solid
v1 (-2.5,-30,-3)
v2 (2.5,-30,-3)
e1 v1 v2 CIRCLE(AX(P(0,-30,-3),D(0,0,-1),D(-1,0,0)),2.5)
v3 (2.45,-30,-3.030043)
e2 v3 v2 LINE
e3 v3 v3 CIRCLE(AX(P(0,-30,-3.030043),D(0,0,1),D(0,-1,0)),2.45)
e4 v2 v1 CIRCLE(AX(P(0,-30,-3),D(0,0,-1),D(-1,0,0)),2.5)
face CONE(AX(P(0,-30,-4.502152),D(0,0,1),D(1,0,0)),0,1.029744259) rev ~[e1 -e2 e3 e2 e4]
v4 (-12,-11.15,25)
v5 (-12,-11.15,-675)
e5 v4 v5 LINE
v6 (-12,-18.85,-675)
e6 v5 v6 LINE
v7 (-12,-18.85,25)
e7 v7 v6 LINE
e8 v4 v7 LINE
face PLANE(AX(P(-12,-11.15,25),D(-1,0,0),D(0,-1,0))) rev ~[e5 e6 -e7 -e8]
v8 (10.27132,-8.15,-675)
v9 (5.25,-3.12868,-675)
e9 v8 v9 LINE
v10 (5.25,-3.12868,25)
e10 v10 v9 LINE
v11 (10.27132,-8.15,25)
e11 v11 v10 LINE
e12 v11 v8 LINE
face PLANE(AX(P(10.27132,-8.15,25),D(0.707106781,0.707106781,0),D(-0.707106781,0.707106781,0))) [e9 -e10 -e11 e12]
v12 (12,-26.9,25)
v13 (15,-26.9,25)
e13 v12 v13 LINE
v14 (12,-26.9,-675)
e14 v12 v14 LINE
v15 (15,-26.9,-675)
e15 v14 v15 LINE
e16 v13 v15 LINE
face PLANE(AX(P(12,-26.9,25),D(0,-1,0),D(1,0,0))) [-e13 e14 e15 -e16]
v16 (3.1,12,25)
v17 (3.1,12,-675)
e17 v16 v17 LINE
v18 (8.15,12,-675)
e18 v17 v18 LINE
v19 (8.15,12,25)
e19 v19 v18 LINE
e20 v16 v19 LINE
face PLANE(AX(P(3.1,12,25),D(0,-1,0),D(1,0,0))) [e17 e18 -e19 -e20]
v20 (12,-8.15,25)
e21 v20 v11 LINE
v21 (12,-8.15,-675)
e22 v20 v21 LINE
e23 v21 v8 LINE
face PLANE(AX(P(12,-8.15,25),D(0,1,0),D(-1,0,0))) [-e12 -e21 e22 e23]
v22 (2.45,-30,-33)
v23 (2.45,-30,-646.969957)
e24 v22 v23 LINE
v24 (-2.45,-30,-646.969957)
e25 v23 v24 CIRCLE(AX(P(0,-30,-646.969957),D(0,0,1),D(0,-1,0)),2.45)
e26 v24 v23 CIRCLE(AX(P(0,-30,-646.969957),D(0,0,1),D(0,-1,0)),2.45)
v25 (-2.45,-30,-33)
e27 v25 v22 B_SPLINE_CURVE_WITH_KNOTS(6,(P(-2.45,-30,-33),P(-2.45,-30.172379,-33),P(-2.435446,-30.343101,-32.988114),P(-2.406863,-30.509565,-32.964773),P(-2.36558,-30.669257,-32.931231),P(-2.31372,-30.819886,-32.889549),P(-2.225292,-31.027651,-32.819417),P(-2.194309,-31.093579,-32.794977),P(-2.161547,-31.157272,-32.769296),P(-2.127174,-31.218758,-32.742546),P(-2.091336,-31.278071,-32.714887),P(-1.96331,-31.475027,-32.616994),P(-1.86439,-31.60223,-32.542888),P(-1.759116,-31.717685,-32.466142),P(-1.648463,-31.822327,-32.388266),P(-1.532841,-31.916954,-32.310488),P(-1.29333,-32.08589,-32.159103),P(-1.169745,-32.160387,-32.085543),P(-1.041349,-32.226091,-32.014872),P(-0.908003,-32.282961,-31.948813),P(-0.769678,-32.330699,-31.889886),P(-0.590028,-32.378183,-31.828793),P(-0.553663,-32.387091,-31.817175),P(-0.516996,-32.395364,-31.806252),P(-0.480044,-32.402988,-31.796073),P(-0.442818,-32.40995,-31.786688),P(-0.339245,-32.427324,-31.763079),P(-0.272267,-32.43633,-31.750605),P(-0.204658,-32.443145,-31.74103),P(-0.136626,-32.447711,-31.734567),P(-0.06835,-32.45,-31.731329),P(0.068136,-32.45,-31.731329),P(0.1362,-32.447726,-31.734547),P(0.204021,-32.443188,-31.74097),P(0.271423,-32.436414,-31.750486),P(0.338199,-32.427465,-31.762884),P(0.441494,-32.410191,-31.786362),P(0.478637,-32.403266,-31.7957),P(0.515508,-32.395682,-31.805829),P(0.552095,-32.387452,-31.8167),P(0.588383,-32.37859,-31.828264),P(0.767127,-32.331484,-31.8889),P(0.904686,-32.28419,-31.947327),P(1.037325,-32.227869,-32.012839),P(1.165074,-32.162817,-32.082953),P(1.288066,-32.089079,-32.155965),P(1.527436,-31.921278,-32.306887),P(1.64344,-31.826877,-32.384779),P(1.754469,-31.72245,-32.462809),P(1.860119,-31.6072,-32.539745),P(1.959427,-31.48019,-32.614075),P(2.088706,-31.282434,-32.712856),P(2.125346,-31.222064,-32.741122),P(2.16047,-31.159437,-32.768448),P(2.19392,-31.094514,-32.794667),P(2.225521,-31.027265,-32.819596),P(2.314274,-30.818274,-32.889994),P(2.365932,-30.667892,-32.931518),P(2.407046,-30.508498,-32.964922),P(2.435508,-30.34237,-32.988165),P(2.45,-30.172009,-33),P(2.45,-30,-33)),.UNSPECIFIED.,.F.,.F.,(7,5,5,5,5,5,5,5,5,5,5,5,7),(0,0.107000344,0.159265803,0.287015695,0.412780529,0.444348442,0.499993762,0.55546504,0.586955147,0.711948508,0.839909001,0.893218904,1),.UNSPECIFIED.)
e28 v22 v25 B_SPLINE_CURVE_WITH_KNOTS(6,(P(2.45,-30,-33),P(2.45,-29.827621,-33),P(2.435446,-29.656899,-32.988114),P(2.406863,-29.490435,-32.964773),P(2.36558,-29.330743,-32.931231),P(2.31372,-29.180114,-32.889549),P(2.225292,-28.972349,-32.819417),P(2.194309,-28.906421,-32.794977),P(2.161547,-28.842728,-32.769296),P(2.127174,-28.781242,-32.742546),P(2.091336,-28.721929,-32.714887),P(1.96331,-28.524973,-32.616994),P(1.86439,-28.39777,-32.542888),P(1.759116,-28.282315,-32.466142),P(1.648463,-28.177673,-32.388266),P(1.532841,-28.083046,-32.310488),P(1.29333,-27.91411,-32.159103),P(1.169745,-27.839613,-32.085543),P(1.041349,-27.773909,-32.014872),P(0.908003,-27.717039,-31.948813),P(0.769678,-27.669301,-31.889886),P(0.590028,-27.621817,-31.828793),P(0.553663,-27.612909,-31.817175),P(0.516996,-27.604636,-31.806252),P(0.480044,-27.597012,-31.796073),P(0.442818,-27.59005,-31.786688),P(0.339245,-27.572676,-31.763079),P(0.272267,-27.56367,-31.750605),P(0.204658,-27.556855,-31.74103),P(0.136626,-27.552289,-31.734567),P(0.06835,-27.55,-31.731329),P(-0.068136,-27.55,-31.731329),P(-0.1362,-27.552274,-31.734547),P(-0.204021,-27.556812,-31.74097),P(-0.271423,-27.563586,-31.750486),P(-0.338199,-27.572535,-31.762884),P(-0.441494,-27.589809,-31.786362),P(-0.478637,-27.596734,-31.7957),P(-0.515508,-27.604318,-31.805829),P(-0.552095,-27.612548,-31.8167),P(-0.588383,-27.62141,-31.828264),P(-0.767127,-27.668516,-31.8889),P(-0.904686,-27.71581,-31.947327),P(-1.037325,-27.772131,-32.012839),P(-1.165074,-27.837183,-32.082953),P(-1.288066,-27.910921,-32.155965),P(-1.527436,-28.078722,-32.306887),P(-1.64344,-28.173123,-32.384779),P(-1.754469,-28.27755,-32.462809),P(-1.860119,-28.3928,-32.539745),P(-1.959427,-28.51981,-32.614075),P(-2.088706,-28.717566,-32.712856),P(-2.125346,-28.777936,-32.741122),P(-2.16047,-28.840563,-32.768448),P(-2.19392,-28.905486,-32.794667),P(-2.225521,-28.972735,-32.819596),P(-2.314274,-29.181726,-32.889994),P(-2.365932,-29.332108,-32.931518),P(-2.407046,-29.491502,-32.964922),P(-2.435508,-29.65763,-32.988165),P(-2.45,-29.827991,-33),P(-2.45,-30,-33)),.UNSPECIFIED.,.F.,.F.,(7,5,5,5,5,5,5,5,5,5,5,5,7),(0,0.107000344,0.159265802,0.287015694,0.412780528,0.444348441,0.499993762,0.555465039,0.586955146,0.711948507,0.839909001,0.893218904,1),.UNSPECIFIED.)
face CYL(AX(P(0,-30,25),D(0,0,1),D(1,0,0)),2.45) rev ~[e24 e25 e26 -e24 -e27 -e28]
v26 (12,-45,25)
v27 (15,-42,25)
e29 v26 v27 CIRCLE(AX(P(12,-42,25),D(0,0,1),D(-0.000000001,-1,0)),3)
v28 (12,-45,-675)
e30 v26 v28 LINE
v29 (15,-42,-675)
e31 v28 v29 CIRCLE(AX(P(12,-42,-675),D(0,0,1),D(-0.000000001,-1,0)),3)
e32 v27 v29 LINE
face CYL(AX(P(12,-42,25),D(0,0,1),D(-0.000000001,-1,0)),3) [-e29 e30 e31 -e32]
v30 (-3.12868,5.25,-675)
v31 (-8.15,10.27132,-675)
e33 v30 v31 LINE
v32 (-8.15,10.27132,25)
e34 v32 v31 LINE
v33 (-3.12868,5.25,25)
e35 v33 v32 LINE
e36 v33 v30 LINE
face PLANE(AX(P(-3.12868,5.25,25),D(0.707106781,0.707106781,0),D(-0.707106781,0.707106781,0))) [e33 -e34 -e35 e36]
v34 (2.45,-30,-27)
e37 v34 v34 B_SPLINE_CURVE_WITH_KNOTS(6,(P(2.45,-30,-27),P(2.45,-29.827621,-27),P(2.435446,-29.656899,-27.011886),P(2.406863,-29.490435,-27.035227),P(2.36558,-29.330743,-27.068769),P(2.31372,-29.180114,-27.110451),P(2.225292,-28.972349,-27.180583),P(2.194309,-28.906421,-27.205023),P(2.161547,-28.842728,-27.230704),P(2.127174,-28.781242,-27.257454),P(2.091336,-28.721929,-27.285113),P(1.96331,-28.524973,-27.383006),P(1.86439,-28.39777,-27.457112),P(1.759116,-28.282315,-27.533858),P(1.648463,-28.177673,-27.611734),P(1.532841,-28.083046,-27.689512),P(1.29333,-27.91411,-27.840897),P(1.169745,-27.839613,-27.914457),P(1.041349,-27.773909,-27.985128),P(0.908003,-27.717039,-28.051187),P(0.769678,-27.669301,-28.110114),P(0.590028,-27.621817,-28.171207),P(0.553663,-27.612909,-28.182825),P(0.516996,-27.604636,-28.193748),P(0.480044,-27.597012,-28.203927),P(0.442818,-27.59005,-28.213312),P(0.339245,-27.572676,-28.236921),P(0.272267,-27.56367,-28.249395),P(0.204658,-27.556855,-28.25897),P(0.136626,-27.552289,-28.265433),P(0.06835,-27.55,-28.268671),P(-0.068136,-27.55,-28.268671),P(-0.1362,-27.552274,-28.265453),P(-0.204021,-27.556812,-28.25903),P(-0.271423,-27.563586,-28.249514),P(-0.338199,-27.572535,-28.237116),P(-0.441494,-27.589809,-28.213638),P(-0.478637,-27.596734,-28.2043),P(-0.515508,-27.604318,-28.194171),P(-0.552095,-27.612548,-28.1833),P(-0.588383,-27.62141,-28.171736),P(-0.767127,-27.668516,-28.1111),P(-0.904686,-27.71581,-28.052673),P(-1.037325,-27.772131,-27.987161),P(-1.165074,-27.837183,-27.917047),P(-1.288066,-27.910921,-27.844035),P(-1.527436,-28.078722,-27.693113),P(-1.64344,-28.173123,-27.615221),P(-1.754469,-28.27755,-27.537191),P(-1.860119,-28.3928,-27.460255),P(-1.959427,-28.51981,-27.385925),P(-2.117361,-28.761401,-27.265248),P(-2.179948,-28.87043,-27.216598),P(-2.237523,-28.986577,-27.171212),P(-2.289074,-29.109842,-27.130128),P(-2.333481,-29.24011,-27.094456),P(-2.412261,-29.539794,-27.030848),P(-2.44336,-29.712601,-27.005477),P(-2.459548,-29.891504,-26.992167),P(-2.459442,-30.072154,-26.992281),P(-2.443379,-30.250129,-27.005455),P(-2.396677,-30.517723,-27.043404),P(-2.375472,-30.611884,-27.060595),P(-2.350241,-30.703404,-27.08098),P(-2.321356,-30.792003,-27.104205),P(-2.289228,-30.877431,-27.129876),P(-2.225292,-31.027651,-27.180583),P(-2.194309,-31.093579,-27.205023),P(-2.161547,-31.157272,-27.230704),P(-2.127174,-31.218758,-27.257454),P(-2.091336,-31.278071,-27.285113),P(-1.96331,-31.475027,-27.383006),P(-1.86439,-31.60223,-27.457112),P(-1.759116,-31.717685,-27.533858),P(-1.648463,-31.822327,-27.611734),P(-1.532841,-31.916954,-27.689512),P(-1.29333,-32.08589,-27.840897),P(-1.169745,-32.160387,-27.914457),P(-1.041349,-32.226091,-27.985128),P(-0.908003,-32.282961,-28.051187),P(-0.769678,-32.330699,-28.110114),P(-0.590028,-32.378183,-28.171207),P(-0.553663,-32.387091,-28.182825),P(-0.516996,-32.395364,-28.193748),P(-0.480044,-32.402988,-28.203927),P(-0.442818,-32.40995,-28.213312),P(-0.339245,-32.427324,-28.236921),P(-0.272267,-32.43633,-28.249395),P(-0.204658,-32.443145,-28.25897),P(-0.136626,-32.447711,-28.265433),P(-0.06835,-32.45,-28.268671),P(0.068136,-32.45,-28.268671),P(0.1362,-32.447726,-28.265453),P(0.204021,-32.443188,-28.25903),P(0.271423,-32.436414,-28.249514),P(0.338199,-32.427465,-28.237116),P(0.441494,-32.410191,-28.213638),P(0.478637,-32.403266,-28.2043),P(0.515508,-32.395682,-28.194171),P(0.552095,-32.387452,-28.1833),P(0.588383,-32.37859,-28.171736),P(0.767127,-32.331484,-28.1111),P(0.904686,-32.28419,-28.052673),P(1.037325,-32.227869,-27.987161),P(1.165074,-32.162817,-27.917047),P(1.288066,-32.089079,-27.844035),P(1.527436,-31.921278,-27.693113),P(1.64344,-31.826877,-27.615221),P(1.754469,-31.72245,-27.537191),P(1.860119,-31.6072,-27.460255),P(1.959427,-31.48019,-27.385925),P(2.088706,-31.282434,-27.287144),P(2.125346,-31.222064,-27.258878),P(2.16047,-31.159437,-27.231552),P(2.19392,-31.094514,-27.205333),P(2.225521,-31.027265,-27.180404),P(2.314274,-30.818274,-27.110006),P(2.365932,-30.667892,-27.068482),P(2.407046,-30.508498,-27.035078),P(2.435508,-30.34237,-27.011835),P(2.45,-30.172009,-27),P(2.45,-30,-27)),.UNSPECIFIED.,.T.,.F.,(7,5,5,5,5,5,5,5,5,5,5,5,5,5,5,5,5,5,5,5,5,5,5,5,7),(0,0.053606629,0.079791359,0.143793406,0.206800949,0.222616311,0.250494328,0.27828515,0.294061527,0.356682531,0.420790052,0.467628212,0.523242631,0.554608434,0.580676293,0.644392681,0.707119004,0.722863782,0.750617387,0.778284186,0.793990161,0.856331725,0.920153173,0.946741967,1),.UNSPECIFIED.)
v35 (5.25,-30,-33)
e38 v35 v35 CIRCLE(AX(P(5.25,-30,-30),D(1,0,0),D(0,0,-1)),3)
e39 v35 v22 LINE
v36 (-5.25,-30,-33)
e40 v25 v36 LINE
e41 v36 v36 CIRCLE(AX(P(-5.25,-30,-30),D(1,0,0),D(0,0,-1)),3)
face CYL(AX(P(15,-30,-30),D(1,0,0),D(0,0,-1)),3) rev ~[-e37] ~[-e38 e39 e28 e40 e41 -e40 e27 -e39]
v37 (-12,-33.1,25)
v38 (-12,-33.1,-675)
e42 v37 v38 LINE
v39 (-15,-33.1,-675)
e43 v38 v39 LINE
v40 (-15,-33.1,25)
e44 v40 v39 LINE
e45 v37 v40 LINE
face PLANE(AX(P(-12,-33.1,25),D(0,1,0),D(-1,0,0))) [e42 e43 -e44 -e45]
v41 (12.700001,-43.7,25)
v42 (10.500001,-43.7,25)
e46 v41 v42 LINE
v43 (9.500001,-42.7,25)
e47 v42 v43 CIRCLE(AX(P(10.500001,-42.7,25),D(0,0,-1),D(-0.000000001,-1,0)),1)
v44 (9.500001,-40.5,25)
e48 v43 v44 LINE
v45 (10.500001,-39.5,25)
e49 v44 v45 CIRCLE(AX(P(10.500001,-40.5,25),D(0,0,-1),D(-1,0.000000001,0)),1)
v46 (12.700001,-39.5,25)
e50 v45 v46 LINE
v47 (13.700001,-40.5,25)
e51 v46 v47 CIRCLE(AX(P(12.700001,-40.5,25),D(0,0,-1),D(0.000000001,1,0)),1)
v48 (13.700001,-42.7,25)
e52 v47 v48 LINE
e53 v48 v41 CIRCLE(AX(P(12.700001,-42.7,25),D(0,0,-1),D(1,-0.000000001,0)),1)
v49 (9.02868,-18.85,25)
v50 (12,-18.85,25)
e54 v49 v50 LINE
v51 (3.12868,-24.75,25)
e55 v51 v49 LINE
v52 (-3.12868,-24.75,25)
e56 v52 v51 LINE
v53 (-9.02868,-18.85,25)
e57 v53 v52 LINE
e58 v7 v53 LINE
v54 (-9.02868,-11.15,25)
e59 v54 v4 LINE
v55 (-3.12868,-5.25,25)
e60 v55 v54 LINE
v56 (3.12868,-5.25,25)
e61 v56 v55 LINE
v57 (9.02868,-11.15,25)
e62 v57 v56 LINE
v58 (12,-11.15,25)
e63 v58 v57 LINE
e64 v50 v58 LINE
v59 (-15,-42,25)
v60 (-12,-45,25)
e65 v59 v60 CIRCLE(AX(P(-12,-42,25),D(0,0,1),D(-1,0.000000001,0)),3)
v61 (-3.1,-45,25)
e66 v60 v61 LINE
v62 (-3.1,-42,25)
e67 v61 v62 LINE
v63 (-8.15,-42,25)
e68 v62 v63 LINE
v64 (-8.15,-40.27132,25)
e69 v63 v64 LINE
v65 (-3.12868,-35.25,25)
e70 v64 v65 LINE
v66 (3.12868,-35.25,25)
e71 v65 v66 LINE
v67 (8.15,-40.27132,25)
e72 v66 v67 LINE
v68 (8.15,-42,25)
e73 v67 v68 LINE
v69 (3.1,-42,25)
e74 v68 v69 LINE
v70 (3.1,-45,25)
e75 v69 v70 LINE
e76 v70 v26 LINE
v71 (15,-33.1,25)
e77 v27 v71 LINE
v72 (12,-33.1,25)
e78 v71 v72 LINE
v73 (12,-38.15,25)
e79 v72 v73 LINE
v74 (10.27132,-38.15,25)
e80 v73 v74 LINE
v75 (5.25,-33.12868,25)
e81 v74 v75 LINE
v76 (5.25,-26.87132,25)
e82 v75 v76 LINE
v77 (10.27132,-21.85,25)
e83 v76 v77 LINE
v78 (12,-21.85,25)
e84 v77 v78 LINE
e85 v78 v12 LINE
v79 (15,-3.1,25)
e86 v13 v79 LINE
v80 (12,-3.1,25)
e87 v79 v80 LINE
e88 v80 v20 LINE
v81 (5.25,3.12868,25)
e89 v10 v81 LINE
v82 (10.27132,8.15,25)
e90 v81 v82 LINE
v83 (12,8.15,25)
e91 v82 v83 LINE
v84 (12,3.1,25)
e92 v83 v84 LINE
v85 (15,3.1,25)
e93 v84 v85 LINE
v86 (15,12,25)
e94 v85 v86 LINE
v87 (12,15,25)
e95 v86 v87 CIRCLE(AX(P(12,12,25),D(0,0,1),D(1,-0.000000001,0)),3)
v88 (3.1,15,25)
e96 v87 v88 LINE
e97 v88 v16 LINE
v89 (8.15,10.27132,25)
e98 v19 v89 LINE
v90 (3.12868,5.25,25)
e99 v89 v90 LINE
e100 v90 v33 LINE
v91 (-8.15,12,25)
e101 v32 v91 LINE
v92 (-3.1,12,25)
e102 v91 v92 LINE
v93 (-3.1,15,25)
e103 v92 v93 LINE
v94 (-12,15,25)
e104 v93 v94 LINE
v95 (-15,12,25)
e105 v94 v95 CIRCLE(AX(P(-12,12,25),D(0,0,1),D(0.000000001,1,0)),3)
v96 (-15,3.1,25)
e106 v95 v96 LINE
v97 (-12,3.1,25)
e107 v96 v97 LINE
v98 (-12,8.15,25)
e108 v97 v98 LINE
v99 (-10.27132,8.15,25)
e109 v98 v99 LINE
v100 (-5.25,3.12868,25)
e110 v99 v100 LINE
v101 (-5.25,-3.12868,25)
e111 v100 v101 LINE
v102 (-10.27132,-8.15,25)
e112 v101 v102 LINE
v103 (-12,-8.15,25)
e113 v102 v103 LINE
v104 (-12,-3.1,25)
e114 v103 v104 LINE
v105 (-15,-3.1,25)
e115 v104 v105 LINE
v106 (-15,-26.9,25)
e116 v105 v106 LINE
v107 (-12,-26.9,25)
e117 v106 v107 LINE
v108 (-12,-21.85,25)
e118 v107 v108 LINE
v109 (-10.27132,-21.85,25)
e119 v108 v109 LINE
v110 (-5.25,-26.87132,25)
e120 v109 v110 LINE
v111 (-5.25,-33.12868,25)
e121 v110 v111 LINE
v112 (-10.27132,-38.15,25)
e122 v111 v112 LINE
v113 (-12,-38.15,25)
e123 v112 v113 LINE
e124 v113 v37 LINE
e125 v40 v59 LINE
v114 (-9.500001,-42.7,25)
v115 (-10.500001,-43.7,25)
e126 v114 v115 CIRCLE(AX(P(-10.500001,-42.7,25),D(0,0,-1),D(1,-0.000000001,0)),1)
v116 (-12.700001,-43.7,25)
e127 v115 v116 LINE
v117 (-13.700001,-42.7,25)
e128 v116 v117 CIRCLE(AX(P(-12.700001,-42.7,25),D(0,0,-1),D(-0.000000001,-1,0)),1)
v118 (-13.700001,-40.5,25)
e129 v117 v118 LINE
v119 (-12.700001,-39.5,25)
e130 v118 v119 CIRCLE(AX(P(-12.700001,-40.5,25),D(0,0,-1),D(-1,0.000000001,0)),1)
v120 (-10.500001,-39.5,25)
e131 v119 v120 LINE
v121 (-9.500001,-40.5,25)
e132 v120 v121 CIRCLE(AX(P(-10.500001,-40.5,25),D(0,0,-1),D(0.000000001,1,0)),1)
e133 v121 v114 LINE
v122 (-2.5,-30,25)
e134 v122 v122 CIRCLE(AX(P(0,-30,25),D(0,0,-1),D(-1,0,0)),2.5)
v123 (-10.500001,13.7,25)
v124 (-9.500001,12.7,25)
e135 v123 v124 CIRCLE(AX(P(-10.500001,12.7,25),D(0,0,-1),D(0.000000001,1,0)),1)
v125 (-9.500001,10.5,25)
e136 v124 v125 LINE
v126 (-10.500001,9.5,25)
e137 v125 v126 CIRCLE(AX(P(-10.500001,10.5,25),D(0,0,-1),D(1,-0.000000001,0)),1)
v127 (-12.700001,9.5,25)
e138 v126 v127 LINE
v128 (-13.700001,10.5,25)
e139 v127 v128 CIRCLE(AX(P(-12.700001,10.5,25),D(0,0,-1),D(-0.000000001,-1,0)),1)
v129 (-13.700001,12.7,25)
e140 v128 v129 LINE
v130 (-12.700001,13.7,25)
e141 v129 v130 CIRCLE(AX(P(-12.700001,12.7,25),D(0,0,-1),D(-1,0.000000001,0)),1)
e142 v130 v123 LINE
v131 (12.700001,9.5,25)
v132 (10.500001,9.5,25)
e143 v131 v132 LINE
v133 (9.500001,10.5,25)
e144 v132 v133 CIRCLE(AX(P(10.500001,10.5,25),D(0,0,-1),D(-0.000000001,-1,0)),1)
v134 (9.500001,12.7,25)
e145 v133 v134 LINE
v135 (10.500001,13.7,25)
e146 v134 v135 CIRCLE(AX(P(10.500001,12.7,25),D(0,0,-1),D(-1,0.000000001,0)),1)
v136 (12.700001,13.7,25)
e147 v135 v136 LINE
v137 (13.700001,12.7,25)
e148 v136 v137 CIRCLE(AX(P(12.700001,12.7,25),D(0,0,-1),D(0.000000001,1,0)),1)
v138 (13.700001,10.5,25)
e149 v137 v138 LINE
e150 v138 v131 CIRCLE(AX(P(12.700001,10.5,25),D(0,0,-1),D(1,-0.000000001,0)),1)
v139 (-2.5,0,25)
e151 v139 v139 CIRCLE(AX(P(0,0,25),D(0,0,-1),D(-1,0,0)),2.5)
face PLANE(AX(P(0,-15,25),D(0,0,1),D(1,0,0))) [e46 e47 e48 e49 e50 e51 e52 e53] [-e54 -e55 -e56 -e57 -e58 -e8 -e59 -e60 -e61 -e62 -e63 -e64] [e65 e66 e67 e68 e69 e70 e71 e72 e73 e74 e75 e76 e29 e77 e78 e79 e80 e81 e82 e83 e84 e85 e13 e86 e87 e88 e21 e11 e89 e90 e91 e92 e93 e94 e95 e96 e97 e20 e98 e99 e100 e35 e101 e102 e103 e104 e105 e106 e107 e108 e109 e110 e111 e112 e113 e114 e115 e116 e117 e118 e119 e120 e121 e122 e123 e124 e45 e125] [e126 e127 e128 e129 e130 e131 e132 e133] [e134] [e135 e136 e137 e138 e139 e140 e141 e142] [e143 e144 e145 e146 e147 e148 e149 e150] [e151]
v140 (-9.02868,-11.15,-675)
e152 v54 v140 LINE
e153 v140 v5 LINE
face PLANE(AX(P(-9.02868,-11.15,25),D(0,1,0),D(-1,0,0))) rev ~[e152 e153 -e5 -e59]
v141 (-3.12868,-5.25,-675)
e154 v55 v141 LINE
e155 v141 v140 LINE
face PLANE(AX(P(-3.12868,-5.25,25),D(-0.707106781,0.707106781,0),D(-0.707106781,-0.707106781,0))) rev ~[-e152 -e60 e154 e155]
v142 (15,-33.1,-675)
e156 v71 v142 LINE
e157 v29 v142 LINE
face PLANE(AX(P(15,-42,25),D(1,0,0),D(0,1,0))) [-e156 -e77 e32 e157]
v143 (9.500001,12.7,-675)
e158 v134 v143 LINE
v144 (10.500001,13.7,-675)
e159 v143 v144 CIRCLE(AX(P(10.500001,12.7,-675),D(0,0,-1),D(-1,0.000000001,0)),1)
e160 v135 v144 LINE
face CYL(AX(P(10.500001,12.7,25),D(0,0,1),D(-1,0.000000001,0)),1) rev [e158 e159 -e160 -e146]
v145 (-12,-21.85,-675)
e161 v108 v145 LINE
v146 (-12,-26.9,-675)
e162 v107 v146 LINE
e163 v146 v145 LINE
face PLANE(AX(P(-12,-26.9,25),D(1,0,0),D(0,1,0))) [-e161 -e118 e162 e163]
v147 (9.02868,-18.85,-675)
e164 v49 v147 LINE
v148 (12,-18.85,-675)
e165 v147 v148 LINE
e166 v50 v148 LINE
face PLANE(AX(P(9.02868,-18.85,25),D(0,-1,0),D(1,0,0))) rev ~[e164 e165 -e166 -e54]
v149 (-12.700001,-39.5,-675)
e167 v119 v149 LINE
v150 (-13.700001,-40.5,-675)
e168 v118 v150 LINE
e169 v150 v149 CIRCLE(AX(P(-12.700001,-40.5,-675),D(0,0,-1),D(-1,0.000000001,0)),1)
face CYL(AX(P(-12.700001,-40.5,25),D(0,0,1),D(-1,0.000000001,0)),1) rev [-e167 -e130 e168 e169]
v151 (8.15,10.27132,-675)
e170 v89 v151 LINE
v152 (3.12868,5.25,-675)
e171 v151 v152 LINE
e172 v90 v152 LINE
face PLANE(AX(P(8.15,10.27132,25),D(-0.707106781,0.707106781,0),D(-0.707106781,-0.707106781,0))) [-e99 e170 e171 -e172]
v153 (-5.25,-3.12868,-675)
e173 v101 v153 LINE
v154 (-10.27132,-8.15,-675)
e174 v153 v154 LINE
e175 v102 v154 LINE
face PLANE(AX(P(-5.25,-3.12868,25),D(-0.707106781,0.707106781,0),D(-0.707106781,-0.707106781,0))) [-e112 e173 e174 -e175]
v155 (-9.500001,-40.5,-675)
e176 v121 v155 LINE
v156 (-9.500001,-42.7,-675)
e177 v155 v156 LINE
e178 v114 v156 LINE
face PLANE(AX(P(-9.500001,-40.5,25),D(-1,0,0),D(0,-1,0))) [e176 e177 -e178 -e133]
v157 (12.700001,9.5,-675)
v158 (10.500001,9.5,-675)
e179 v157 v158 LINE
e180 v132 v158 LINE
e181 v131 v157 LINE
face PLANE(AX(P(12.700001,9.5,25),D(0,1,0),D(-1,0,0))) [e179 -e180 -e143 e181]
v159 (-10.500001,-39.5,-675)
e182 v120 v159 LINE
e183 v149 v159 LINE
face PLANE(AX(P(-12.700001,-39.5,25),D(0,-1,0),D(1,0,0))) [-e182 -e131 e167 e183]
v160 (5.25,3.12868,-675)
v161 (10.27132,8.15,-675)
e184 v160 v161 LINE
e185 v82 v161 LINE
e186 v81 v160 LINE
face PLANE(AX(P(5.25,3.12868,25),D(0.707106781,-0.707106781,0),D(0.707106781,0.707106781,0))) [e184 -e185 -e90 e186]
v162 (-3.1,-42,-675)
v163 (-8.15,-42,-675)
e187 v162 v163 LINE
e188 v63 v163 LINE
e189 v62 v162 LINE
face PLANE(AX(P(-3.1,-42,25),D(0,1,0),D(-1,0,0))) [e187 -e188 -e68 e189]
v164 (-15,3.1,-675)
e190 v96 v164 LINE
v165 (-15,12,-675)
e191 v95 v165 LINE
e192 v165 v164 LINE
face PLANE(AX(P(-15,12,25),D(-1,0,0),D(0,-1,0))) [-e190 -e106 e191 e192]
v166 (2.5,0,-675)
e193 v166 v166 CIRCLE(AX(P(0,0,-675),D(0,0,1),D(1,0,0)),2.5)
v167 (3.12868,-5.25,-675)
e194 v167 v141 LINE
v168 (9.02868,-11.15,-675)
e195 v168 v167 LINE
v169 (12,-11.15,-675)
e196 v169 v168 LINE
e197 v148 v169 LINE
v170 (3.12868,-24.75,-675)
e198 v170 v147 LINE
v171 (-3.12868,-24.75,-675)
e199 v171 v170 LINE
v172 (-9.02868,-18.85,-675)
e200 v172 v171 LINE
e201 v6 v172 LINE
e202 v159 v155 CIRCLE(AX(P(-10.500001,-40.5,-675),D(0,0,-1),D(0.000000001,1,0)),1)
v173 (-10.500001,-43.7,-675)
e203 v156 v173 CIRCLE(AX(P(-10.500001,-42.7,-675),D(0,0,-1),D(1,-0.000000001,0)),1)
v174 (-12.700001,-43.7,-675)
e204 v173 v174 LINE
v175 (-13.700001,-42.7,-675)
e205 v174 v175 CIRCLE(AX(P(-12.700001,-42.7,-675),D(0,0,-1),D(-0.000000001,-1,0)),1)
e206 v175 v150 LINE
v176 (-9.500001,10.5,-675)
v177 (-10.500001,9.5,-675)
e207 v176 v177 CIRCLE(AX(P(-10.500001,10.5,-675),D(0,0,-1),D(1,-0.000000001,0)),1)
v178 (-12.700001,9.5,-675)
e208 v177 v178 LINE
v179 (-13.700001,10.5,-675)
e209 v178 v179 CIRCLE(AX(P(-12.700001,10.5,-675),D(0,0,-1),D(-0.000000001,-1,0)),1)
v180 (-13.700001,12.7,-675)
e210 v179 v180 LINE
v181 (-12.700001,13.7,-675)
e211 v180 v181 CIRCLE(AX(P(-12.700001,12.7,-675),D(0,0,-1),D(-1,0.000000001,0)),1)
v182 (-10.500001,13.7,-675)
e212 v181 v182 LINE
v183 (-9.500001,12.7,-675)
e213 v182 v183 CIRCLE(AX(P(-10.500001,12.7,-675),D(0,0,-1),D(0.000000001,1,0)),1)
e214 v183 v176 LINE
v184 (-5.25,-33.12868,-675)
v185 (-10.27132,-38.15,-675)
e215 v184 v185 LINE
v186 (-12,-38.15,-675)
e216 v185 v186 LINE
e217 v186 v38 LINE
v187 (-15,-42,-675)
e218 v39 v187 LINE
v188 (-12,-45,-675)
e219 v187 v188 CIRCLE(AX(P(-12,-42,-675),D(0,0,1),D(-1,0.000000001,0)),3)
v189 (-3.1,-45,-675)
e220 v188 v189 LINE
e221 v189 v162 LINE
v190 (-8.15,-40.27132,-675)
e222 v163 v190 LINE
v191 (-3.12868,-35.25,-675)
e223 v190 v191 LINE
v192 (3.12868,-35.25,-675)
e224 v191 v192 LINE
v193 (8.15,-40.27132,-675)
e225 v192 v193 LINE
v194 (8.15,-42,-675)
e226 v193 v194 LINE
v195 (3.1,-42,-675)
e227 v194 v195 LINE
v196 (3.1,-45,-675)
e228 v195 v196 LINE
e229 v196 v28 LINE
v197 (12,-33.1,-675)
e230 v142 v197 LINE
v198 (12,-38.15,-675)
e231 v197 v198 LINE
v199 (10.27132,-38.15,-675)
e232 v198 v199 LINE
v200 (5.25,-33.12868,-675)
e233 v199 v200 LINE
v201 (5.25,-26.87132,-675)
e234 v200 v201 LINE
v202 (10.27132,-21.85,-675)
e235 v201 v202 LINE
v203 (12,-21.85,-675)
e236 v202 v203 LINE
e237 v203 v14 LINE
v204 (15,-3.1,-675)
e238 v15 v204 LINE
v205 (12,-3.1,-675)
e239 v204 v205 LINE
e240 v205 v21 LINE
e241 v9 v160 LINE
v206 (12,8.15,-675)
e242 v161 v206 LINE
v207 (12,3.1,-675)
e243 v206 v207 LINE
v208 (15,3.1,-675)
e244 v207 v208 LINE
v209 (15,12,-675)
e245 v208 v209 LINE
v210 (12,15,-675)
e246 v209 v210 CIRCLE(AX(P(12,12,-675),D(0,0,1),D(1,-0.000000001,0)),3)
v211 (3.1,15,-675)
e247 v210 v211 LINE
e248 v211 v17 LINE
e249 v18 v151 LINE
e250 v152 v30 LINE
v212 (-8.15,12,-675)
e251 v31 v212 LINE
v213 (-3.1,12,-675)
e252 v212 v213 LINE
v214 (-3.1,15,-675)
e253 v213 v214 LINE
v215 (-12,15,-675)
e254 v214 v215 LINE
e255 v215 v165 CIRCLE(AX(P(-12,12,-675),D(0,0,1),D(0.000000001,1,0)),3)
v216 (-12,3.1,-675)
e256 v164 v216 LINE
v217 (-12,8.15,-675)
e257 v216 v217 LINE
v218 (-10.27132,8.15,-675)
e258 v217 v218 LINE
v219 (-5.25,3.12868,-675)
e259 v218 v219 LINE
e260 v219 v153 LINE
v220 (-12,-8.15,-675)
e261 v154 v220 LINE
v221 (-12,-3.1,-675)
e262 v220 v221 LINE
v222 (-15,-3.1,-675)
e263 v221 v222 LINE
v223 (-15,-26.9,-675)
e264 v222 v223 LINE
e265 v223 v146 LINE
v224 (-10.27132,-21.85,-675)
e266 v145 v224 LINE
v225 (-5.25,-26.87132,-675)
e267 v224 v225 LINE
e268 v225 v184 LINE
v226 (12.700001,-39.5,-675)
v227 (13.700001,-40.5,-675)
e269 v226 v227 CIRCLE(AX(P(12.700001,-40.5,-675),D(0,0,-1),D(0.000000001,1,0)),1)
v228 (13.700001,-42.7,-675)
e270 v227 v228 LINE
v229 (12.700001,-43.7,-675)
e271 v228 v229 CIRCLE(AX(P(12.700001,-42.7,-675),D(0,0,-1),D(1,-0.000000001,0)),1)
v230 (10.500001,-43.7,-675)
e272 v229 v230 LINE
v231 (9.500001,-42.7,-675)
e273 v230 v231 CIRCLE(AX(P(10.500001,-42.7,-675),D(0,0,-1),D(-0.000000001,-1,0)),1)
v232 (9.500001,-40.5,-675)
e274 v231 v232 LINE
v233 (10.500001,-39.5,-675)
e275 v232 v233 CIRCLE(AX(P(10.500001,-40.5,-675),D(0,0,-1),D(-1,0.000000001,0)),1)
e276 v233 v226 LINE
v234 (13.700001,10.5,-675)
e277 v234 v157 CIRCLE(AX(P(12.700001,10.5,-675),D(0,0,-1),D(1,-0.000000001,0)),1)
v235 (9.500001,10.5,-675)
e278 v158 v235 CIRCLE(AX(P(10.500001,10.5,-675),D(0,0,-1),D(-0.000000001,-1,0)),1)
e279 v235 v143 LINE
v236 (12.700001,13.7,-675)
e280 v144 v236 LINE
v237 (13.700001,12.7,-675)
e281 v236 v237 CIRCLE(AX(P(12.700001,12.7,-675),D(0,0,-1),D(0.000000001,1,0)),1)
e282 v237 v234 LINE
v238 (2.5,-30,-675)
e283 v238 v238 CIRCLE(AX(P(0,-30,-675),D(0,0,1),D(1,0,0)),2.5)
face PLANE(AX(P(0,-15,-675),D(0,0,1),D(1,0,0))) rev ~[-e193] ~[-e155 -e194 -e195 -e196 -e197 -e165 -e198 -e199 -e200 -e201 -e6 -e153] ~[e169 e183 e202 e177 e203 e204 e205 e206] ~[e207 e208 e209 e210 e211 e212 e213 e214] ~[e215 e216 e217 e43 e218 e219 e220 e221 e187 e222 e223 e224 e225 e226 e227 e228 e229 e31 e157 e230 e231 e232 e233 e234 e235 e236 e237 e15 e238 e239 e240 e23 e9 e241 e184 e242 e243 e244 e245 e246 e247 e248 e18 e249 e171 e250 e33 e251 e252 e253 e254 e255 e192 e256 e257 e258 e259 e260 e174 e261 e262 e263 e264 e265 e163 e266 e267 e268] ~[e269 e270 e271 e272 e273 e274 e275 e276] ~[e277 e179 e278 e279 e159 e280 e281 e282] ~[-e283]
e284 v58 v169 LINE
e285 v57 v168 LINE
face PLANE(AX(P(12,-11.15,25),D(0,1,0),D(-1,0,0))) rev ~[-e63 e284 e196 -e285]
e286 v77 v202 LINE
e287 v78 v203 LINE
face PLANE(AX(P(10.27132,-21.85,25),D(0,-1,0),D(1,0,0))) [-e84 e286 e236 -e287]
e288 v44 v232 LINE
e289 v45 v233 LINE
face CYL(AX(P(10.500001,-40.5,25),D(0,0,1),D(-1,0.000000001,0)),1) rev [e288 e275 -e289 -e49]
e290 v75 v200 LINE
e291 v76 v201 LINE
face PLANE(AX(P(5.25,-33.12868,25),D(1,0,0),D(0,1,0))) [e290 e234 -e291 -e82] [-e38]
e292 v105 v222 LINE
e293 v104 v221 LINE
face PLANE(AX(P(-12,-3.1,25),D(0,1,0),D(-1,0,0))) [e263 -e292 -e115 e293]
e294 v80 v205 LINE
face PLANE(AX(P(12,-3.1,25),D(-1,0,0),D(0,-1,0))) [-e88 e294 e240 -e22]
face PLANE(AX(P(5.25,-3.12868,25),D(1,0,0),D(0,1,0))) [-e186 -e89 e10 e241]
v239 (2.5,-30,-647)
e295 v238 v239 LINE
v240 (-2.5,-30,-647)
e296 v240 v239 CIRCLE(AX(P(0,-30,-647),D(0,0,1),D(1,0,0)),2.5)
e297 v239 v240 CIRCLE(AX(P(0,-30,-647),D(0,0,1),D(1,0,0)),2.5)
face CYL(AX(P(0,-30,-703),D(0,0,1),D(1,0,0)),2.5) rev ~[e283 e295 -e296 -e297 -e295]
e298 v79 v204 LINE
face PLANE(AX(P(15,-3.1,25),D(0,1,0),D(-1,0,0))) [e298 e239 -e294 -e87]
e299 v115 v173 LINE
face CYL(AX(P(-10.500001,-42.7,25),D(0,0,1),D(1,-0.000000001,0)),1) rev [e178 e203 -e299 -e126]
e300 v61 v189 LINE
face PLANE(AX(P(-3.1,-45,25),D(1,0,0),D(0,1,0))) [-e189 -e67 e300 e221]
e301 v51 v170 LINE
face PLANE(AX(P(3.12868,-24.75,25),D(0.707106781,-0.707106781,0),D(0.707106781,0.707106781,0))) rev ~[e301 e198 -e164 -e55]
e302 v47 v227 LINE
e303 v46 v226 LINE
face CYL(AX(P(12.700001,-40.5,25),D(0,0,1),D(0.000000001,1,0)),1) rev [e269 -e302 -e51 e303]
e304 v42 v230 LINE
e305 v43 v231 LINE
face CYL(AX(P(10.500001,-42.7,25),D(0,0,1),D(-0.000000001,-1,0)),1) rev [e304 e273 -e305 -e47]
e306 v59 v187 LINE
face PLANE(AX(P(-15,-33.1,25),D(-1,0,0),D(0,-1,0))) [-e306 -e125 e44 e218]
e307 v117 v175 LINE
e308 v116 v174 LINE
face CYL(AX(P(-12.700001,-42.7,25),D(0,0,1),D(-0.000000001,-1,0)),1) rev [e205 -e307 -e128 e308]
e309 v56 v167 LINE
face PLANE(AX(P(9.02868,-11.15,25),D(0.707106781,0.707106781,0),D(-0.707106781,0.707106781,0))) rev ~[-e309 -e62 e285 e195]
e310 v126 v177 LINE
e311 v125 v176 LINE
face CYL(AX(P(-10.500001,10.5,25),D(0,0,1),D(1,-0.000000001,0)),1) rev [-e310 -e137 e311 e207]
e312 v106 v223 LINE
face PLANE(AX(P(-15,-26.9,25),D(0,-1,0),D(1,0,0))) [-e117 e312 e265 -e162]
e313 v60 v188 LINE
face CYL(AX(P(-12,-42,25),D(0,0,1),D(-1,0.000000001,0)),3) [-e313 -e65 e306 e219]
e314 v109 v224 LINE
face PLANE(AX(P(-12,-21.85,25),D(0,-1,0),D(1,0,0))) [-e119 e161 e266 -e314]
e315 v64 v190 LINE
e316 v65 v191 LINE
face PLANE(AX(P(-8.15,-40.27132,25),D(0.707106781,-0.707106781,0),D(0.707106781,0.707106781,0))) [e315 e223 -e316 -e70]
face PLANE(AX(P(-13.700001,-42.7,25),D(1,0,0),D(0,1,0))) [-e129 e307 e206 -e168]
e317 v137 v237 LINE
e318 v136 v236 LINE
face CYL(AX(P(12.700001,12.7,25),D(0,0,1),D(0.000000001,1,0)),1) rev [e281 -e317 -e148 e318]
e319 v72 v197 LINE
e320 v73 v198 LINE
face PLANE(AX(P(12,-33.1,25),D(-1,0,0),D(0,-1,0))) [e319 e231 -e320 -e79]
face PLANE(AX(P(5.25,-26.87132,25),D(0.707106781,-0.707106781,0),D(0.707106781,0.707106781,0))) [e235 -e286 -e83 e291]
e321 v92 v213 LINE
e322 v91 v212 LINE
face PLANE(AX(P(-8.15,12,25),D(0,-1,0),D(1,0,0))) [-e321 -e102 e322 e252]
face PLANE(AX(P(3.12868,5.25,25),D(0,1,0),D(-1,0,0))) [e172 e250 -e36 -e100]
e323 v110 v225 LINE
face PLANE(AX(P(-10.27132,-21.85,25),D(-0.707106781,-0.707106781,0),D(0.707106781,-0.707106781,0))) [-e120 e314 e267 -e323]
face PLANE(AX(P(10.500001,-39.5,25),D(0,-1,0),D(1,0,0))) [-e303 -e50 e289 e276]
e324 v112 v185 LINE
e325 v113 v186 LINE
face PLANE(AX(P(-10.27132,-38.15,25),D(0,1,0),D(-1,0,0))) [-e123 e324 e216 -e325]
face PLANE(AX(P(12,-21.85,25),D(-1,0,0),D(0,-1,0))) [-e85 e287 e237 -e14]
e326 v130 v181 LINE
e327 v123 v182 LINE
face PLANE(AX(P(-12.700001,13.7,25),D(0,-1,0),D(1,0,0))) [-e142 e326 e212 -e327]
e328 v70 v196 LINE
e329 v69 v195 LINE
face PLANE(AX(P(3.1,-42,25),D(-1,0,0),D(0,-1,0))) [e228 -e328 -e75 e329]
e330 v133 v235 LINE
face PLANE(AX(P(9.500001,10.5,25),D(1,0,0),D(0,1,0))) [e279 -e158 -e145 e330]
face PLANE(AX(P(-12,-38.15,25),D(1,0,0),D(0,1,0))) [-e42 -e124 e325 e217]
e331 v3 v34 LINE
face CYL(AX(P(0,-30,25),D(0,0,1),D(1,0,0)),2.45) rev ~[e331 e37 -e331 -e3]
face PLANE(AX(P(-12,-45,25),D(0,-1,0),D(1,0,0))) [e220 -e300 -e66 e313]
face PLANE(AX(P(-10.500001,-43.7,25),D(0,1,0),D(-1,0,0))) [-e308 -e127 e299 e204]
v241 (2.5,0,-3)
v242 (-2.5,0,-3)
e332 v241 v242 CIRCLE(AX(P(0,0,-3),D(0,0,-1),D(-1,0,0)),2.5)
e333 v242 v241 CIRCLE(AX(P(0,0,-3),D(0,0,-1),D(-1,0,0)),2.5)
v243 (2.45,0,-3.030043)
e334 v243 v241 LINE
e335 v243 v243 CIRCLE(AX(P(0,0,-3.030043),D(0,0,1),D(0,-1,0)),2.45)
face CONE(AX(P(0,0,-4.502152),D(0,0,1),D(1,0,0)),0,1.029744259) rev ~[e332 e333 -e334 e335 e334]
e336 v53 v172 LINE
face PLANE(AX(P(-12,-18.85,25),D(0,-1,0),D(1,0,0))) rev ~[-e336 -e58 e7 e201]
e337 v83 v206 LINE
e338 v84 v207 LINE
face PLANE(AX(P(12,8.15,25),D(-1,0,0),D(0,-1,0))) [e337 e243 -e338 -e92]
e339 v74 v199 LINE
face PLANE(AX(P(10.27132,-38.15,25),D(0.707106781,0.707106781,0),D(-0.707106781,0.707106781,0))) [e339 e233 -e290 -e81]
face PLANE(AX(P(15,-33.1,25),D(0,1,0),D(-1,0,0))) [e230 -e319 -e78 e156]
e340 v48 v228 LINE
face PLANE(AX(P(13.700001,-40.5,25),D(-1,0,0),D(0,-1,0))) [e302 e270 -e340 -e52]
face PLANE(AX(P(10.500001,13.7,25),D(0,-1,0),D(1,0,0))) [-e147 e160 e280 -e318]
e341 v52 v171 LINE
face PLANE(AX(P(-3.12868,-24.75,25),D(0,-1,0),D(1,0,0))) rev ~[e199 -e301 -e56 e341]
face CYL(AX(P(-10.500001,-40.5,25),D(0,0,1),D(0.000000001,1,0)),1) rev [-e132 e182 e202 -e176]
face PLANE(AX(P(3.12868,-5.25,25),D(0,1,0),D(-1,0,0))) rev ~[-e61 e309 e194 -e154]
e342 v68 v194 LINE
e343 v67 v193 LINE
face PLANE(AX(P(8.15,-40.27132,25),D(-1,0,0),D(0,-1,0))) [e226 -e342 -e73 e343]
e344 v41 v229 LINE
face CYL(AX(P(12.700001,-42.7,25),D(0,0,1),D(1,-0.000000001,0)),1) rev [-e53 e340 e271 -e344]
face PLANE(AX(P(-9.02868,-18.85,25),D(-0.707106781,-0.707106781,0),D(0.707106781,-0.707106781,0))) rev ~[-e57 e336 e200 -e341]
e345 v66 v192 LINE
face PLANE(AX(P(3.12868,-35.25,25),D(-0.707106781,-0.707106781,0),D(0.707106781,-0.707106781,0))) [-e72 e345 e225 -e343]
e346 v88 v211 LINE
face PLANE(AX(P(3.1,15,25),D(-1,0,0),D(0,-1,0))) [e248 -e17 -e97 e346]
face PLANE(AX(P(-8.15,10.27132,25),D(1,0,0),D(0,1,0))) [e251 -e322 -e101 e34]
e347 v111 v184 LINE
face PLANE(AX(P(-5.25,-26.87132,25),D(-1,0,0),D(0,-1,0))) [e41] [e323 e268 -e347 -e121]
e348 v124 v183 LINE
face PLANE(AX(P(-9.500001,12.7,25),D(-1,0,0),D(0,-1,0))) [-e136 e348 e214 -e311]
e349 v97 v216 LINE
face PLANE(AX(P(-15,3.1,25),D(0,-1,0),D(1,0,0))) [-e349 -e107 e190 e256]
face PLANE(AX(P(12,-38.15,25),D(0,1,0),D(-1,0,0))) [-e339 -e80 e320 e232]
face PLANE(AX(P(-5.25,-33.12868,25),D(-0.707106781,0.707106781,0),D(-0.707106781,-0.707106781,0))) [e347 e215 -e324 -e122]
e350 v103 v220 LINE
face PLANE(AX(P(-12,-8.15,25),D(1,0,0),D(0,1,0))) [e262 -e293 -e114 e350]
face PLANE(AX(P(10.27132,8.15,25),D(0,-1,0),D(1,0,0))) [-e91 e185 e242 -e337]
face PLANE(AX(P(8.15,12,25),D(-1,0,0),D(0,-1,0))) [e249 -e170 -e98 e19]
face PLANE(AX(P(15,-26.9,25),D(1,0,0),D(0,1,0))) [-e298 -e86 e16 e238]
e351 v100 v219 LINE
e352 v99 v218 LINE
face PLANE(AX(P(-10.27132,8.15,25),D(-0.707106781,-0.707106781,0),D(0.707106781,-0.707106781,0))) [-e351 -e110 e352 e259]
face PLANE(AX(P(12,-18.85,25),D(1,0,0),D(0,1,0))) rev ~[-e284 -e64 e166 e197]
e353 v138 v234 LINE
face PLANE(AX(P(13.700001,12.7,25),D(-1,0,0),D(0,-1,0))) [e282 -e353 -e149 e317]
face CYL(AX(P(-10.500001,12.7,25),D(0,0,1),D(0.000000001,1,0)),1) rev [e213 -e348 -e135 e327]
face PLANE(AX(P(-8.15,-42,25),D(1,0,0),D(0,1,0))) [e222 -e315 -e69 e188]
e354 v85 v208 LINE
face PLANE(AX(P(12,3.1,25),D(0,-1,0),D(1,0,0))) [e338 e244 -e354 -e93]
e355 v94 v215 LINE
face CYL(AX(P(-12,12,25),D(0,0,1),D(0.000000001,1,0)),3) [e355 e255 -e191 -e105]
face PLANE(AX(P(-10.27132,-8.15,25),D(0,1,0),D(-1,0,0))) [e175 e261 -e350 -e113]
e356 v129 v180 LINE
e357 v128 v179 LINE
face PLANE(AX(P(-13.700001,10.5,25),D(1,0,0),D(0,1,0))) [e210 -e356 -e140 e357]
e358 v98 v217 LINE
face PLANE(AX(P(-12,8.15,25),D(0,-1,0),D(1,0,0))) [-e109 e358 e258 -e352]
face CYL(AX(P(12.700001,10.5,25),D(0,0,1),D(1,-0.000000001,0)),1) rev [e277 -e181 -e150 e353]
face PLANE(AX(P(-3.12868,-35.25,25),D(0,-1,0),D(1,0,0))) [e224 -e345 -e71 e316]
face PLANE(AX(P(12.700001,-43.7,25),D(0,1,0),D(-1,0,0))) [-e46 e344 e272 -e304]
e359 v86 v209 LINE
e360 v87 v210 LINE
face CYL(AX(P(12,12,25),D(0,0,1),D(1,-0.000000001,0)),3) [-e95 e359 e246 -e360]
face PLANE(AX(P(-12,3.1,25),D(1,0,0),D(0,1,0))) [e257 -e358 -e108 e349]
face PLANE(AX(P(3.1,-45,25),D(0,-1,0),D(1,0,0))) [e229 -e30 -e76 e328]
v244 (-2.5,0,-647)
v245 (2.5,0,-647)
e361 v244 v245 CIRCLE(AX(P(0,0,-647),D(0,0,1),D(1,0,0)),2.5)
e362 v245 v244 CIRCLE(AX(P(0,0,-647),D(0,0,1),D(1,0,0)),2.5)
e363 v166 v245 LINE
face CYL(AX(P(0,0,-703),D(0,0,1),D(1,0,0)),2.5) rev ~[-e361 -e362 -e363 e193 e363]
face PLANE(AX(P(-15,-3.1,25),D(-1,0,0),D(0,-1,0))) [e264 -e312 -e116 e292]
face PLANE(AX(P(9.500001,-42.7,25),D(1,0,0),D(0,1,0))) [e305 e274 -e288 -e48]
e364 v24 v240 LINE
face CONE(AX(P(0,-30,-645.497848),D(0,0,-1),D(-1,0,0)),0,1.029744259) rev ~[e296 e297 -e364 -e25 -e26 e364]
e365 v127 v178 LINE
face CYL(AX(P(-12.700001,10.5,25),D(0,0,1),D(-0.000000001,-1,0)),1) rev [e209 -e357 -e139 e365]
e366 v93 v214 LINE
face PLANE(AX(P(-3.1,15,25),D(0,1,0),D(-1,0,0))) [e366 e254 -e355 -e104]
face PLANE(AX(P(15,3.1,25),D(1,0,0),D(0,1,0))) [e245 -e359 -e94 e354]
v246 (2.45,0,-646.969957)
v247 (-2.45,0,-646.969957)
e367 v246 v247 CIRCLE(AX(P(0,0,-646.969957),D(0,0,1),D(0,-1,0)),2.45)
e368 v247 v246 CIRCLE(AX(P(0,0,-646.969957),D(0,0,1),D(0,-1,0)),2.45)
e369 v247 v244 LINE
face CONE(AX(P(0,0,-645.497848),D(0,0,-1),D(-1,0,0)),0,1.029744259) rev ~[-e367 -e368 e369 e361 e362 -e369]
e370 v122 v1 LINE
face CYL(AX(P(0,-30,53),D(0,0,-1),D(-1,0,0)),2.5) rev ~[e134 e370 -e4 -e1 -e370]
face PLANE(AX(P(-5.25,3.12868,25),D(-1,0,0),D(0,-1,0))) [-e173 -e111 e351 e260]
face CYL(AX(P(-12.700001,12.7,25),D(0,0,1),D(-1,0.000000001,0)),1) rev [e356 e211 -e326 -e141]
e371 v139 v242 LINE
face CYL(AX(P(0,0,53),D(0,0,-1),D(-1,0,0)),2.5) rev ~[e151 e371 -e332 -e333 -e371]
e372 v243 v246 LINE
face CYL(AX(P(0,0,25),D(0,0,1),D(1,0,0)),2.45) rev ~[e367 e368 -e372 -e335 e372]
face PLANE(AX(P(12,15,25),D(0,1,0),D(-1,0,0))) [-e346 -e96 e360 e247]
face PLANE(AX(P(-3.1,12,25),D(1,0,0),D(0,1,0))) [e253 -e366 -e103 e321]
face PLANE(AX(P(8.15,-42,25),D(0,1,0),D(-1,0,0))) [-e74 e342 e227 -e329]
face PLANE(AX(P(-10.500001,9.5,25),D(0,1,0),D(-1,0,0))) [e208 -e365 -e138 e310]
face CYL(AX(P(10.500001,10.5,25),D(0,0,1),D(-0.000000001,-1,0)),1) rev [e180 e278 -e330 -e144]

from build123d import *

# Parameters (mm, degrees)
SKETCH1_R                 = 2.45
BOSS_EXTRUDE1_DEPTH       = 700
SKETCH2_R                 = 3
CUT_EXTRUDE1_DEPTH        = 678.163200418
M6X1_0_TAPPED_HOLE1_D     = 5
M6X1_0_TAPPED_HOLE1_DEPTH = 28
M6X1_0_TAPPED_HOLE1_TIP   = 1.502151548
M6X1_0_TAPPED_HOLE2_D     = 5
M6X1_0_TAPPED_HOLE2_DEPTH = 28
M6X1_0_TAPPED_HOLE2_TIP   = 1.502151548


with BuildPart() as part:
    # Sketch1 → Boss-Extrude1 (new body)
    with BuildSketch(Plane.XY.offset(25)):
        with BuildLine():
            Line((10.271320344, -21.85), (12, -21.85))
            Line((12, -21.85), (12, -26.9))
            Line((12, -26.9), (15, -26.9))
            Line((15, -26.9), (15, -3.1))
            Line((15, -3.1), (12, -3.1))
            Line((12, -3.1), (12, -8.15))
            Line((12, -8.15), (10.271320344, -8.15))
            Line((10.271320344, -8.15), (5.25, -3.128679656))
            Line((5.25, -3.128679656), (5.25, 3.128679656))
            Line((5.25, 3.128679656), (10.271320344, 8.15))
            Line((10.271320344, 8.15), (12, 8.15))
            Line((12, 8.15), (12, 3.1))
            Line((12, 3.1), (15, 3.1))
            Line((15, 3.1), (15, 12))
            ThreePointArc((15, 12), (14.121320344, 14.121320344), (12, 15))
            Line((12, 15), (3.1, 15))
            Line((3.1, 15), (3.1, 12))
            Line((3.1, 12), (8.15, 12))
            Line((8.15, 12), (8.15, 10.271320344))
            Line((8.15, 10.271320344), (3.128679656, 5.25))
            Line((3.128679656, 5.25), (-3.128679656, 5.25))
            Line((-3.128679656, 5.25), (-8.15, 10.271320344))
            Line((-8.15, 10.271320344), (-8.15, 12))
            Line((-8.15, 12), (-3.1, 12))
            Line((-3.1, 12), (-3.1, 15))
            Line((-3.1, 15), (-12, 15))
            ThreePointArc((-12, 15), (-14.121320344, 14.121320344), (-15, 12))
            Line((-15, 12), (-15, 3.1))
            Line((-15, 3.1), (-12, 3.1))
            Line((-12, 3.1), (-12, 8.15))
            Line((-12, 8.15), (-10.271320344, 8.15))
            Line((-10.271320344, 8.15), (-5.25, 3.128679656))
            Line((-5.25, 3.128679656), (-5.25, -3.128679656))
            Line((-5.25, -3.128679656), (-10.271320344, -8.15))
            Line((-10.271320344, -8.15), (-12, -8.15))
            Line((-12, -8.15), (-12, -3.1))
            Line((-12, -3.1), (-15, -3.1))
            Line((-15, -3.1), (-15, -26.9))
            Line((-15, -26.9), (-12, -26.9))
            Line((-12, -26.9), (-12, -21.85))
            Line((-12, -21.85), (-10.271320344, -21.85))
            Line((-10.271320344, -21.85), (-5.25, -26.871320344))
            Line((-5.25, -26.871320344), (-5.25, -33.128679656))
            Line((-5.25, -33.128679656), (-10.271320344, -38.15))
            Line((-10.271320344, -38.15), (-12, -38.15))
            Line((-12, -38.15), (-12, -33.1))
            Line((-12, -33.1), (-15, -33.1))
            Line((-15, -33.1), (-15, -42))
            ThreePointArc((-15, -42), (-14.121320344, -44.121320344), (-12, -45))
            Line((-12, -45), (-3.1, -45))
            Line((-3.1, -45), (-3.1, -42))
            Line((-3.1, -42), (-8.15, -42))
            Line((-8.15, -42), (-8.15, -40.271320344))
            Line((-8.15, -40.271320344), (-3.128679656, -35.25))
            Line((-3.128679656, -35.25), (3.128679656, -35.25))
            Line((3.128679656, -35.25), (8.15, -40.271320344))
            Line((8.15, -40.271320344), (8.15, -42))
            Line((8.15, -42), (3.1, -42))
            Line((3.1, -42), (3.1, -45))
            Line((3.1, -45), (12, -45))
            ThreePointArc((12, -45), (14.121320344, -44.121320344), (15, -42))
            Line((15, -42), (15, -33.1))
            Line((15, -33.1), (12, -33.1))
            Line((12, -33.1), (12, -38.15))
            Line((12, -38.15), (10.271320344, -38.15))
            Line((10.271320344, -38.15), (5.25, -33.128679656))
            Line((5.25, -33.128679656), (5.25, -26.871320344))
            Line((5.25, -26.871320344), (10.271320344, -21.85))
        make_face()
        Circle(SKETCH1_R, mode=Mode.SUBTRACT)
        with Locations((0, -30)):
            Circle(SKETCH1_R, mode=Mode.SUBTRACT)
        with BuildLine():
            Line((-9.500000904, 12.700000174), (-9.500000904, 10.500000174))
            ThreePointArc((-9.500000904, 10.500000174), (-9.792894123, 9.792893393), (-10.500000904, 9.500000174))
            Line((-10.500000904, 9.500000174), (-12.700000904, 9.500000174))
            ThreePointArc((-12.700000904, 9.500000174), (-13.407107685, 9.792893393), (-13.700000904, 10.500000174))
            Line((-13.700000904, 10.500000174), (-13.700000904, 12.700000174))
            ThreePointArc((-13.700000904, 12.700000174), (-13.407107685, 13.407106955), (-12.700000904, 13.700000174))
            Line((-12.700000904, 13.700000174), (-10.500000904, 13.700000174))
            ThreePointArc((-10.500000904, 13.700000174), (-9.792894123, 13.407106955), (-9.500000904, 12.700000174))
        make_face(mode=Mode.SUBTRACT)
        with BuildLine():
            Line((12.700000904, 9.500000174), (10.500000904, 9.500000174))
            ThreePointArc((10.500000904, 9.500000174), (9.792894123, 9.792893393), (9.500000904, 10.500000174))
            Line((9.500000904, 10.500000174), (9.500000904, 12.700000174))
            ThreePointArc((9.500000904, 12.700000174), (9.792894123, 13.407106955), (10.500000904, 13.700000174))
            Line((10.500000904, 13.700000174), (12.700000904, 13.700000174))
            ThreePointArc((12.700000904, 13.700000174), (13.407107685, 13.407106955), (13.700000904, 12.700000174))
            Line((13.700000904, 12.700000174), (13.700000904, 10.500000174))
            ThreePointArc((13.700000904, 10.500000174), (13.407107685, 9.792893393), (12.700000904, 9.500000174))
        make_face(mode=Mode.SUBTRACT)
        with BuildLine():
            Line((-12.700000904, -39.500000174), (-10.500000904, -39.500000174))
            ThreePointArc((-10.500000904, -39.500000174), (-9.792894123, -39.792893393), (-9.500000904, -40.500000174))
            Line((-9.500000904, -40.500000174), (-9.500000904, -42.700000174))
            ThreePointArc((-9.500000904, -42.700000174), (-9.792894123, -43.407106955), (-10.500000904, -43.700000174))
            Line((-10.500000904, -43.700000174), (-12.700000904, -43.700000174))
            ThreePointArc((-12.700000904, -43.700000174), (-13.407107685, -43.407106955), (-13.700000904, -42.700000174))
            Line((-13.700000904, -42.700000174), (-13.700000904, -40.500000174))
            ThreePointArc((-13.700000904, -40.500000174), (-13.407107685, -39.792893393), (-12.700000904, -39.500000174))
        make_face(mode=Mode.SUBTRACT)
        with BuildLine():
            Line((9.500000904, -42.700000174), (9.500000904, -40.500000174))
            ThreePointArc((9.500000904, -40.500000174), (9.792894123, -39.792893393), (10.500000904, -39.500000174))
            Line((10.500000904, -39.500000174), (12.700000904, -39.500000174))
            ThreePointArc((12.700000904, -39.500000174), (13.407107685, -39.792893393), (13.700000904, -40.500000174))
            Line((13.700000904, -40.500000174), (13.700000904, -42.700000174))
            ThreePointArc((13.700000904, -42.700000174), (13.407107685, -43.407106955), (12.700000904, -43.700000174))
            Line((12.700000904, -43.700000174), (10.500000904, -43.700000174))
            ThreePointArc((10.500000904, -43.700000174), (9.792894123, -43.407106955), (9.500000904, -42.700000174))
        make_face(mode=Mode.SUBTRACT)
        Polygon((3.128679656, -24.75), (9.028679656, -18.85), (12, -18.85), (12, -11.15), (9.028679656, -11.15), (3.128679656, -5.25), (-3.128679656, -5.25), (-9.028679656, -11.15), (-12, -11.15), (-12, -18.85), (-9.028679656, -18.85), (-3.128679656, -24.75), align=None, mode=Mode.SUBTRACT)
    extrude(amount=-BOSS_EXTRUDE1_DEPTH)

    # Sketch2 → Cut-Extrude1 (cut, through all)
    with BuildSketch(Plane(origin=(15, 0, 0), x_dir=(0, 0, -1), z_dir=(1, 0, 0))):
        with Locations((30, -30)):
            Circle(SKETCH2_R)
    extrude(amount=-CUT_EXTRUDE1_DEPTH, mode=Mode.SUBTRACT)

    # M6x1.0 Tapped Hole1
    with Locations(Plane.XY.offset(25)):
        with Locations((0, 0), (0, -30)):
            Hole(M6X1_0_TAPPED_HOLE1_D / 2, depth=M6X1_0_TAPPED_HOLE1_DEPTH)
            with Locations((0, 0, -(M6X1_0_TAPPED_HOLE1_DEPTH + M6X1_0_TAPPED_HOLE1_TIP / 2))):  # 118° drill point
                Cone(0, M6X1_0_TAPPED_HOLE1_D / 2, M6X1_0_TAPPED_HOLE1_TIP, mode=Mode.SUBTRACT)

    # M6x1.0 Tapped Hole2
    with Locations(Plane(origin=(0, 0, -675), x_dir=(-1, 0, 0), z_dir=(0, 0, -1))):
        with Locations((0, 0), (0, -30)):
            Hole(M6X1_0_TAPPED_HOLE2_D / 2, depth=M6X1_0_TAPPED_HOLE2_DEPTH)
            with Locations((0, 0, -(M6X1_0_TAPPED_HOLE2_DEPTH + M6X1_0_TAPPED_HOLE2_TIP / 2))):  # 118° drill point
                Cone(0, M6X1_0_TAPPED_HOLE2_D / 2, M6X1_0_TAPPED_HOLE2_TIP, mode=Mode.SUBTRACT)


solid = part.part
